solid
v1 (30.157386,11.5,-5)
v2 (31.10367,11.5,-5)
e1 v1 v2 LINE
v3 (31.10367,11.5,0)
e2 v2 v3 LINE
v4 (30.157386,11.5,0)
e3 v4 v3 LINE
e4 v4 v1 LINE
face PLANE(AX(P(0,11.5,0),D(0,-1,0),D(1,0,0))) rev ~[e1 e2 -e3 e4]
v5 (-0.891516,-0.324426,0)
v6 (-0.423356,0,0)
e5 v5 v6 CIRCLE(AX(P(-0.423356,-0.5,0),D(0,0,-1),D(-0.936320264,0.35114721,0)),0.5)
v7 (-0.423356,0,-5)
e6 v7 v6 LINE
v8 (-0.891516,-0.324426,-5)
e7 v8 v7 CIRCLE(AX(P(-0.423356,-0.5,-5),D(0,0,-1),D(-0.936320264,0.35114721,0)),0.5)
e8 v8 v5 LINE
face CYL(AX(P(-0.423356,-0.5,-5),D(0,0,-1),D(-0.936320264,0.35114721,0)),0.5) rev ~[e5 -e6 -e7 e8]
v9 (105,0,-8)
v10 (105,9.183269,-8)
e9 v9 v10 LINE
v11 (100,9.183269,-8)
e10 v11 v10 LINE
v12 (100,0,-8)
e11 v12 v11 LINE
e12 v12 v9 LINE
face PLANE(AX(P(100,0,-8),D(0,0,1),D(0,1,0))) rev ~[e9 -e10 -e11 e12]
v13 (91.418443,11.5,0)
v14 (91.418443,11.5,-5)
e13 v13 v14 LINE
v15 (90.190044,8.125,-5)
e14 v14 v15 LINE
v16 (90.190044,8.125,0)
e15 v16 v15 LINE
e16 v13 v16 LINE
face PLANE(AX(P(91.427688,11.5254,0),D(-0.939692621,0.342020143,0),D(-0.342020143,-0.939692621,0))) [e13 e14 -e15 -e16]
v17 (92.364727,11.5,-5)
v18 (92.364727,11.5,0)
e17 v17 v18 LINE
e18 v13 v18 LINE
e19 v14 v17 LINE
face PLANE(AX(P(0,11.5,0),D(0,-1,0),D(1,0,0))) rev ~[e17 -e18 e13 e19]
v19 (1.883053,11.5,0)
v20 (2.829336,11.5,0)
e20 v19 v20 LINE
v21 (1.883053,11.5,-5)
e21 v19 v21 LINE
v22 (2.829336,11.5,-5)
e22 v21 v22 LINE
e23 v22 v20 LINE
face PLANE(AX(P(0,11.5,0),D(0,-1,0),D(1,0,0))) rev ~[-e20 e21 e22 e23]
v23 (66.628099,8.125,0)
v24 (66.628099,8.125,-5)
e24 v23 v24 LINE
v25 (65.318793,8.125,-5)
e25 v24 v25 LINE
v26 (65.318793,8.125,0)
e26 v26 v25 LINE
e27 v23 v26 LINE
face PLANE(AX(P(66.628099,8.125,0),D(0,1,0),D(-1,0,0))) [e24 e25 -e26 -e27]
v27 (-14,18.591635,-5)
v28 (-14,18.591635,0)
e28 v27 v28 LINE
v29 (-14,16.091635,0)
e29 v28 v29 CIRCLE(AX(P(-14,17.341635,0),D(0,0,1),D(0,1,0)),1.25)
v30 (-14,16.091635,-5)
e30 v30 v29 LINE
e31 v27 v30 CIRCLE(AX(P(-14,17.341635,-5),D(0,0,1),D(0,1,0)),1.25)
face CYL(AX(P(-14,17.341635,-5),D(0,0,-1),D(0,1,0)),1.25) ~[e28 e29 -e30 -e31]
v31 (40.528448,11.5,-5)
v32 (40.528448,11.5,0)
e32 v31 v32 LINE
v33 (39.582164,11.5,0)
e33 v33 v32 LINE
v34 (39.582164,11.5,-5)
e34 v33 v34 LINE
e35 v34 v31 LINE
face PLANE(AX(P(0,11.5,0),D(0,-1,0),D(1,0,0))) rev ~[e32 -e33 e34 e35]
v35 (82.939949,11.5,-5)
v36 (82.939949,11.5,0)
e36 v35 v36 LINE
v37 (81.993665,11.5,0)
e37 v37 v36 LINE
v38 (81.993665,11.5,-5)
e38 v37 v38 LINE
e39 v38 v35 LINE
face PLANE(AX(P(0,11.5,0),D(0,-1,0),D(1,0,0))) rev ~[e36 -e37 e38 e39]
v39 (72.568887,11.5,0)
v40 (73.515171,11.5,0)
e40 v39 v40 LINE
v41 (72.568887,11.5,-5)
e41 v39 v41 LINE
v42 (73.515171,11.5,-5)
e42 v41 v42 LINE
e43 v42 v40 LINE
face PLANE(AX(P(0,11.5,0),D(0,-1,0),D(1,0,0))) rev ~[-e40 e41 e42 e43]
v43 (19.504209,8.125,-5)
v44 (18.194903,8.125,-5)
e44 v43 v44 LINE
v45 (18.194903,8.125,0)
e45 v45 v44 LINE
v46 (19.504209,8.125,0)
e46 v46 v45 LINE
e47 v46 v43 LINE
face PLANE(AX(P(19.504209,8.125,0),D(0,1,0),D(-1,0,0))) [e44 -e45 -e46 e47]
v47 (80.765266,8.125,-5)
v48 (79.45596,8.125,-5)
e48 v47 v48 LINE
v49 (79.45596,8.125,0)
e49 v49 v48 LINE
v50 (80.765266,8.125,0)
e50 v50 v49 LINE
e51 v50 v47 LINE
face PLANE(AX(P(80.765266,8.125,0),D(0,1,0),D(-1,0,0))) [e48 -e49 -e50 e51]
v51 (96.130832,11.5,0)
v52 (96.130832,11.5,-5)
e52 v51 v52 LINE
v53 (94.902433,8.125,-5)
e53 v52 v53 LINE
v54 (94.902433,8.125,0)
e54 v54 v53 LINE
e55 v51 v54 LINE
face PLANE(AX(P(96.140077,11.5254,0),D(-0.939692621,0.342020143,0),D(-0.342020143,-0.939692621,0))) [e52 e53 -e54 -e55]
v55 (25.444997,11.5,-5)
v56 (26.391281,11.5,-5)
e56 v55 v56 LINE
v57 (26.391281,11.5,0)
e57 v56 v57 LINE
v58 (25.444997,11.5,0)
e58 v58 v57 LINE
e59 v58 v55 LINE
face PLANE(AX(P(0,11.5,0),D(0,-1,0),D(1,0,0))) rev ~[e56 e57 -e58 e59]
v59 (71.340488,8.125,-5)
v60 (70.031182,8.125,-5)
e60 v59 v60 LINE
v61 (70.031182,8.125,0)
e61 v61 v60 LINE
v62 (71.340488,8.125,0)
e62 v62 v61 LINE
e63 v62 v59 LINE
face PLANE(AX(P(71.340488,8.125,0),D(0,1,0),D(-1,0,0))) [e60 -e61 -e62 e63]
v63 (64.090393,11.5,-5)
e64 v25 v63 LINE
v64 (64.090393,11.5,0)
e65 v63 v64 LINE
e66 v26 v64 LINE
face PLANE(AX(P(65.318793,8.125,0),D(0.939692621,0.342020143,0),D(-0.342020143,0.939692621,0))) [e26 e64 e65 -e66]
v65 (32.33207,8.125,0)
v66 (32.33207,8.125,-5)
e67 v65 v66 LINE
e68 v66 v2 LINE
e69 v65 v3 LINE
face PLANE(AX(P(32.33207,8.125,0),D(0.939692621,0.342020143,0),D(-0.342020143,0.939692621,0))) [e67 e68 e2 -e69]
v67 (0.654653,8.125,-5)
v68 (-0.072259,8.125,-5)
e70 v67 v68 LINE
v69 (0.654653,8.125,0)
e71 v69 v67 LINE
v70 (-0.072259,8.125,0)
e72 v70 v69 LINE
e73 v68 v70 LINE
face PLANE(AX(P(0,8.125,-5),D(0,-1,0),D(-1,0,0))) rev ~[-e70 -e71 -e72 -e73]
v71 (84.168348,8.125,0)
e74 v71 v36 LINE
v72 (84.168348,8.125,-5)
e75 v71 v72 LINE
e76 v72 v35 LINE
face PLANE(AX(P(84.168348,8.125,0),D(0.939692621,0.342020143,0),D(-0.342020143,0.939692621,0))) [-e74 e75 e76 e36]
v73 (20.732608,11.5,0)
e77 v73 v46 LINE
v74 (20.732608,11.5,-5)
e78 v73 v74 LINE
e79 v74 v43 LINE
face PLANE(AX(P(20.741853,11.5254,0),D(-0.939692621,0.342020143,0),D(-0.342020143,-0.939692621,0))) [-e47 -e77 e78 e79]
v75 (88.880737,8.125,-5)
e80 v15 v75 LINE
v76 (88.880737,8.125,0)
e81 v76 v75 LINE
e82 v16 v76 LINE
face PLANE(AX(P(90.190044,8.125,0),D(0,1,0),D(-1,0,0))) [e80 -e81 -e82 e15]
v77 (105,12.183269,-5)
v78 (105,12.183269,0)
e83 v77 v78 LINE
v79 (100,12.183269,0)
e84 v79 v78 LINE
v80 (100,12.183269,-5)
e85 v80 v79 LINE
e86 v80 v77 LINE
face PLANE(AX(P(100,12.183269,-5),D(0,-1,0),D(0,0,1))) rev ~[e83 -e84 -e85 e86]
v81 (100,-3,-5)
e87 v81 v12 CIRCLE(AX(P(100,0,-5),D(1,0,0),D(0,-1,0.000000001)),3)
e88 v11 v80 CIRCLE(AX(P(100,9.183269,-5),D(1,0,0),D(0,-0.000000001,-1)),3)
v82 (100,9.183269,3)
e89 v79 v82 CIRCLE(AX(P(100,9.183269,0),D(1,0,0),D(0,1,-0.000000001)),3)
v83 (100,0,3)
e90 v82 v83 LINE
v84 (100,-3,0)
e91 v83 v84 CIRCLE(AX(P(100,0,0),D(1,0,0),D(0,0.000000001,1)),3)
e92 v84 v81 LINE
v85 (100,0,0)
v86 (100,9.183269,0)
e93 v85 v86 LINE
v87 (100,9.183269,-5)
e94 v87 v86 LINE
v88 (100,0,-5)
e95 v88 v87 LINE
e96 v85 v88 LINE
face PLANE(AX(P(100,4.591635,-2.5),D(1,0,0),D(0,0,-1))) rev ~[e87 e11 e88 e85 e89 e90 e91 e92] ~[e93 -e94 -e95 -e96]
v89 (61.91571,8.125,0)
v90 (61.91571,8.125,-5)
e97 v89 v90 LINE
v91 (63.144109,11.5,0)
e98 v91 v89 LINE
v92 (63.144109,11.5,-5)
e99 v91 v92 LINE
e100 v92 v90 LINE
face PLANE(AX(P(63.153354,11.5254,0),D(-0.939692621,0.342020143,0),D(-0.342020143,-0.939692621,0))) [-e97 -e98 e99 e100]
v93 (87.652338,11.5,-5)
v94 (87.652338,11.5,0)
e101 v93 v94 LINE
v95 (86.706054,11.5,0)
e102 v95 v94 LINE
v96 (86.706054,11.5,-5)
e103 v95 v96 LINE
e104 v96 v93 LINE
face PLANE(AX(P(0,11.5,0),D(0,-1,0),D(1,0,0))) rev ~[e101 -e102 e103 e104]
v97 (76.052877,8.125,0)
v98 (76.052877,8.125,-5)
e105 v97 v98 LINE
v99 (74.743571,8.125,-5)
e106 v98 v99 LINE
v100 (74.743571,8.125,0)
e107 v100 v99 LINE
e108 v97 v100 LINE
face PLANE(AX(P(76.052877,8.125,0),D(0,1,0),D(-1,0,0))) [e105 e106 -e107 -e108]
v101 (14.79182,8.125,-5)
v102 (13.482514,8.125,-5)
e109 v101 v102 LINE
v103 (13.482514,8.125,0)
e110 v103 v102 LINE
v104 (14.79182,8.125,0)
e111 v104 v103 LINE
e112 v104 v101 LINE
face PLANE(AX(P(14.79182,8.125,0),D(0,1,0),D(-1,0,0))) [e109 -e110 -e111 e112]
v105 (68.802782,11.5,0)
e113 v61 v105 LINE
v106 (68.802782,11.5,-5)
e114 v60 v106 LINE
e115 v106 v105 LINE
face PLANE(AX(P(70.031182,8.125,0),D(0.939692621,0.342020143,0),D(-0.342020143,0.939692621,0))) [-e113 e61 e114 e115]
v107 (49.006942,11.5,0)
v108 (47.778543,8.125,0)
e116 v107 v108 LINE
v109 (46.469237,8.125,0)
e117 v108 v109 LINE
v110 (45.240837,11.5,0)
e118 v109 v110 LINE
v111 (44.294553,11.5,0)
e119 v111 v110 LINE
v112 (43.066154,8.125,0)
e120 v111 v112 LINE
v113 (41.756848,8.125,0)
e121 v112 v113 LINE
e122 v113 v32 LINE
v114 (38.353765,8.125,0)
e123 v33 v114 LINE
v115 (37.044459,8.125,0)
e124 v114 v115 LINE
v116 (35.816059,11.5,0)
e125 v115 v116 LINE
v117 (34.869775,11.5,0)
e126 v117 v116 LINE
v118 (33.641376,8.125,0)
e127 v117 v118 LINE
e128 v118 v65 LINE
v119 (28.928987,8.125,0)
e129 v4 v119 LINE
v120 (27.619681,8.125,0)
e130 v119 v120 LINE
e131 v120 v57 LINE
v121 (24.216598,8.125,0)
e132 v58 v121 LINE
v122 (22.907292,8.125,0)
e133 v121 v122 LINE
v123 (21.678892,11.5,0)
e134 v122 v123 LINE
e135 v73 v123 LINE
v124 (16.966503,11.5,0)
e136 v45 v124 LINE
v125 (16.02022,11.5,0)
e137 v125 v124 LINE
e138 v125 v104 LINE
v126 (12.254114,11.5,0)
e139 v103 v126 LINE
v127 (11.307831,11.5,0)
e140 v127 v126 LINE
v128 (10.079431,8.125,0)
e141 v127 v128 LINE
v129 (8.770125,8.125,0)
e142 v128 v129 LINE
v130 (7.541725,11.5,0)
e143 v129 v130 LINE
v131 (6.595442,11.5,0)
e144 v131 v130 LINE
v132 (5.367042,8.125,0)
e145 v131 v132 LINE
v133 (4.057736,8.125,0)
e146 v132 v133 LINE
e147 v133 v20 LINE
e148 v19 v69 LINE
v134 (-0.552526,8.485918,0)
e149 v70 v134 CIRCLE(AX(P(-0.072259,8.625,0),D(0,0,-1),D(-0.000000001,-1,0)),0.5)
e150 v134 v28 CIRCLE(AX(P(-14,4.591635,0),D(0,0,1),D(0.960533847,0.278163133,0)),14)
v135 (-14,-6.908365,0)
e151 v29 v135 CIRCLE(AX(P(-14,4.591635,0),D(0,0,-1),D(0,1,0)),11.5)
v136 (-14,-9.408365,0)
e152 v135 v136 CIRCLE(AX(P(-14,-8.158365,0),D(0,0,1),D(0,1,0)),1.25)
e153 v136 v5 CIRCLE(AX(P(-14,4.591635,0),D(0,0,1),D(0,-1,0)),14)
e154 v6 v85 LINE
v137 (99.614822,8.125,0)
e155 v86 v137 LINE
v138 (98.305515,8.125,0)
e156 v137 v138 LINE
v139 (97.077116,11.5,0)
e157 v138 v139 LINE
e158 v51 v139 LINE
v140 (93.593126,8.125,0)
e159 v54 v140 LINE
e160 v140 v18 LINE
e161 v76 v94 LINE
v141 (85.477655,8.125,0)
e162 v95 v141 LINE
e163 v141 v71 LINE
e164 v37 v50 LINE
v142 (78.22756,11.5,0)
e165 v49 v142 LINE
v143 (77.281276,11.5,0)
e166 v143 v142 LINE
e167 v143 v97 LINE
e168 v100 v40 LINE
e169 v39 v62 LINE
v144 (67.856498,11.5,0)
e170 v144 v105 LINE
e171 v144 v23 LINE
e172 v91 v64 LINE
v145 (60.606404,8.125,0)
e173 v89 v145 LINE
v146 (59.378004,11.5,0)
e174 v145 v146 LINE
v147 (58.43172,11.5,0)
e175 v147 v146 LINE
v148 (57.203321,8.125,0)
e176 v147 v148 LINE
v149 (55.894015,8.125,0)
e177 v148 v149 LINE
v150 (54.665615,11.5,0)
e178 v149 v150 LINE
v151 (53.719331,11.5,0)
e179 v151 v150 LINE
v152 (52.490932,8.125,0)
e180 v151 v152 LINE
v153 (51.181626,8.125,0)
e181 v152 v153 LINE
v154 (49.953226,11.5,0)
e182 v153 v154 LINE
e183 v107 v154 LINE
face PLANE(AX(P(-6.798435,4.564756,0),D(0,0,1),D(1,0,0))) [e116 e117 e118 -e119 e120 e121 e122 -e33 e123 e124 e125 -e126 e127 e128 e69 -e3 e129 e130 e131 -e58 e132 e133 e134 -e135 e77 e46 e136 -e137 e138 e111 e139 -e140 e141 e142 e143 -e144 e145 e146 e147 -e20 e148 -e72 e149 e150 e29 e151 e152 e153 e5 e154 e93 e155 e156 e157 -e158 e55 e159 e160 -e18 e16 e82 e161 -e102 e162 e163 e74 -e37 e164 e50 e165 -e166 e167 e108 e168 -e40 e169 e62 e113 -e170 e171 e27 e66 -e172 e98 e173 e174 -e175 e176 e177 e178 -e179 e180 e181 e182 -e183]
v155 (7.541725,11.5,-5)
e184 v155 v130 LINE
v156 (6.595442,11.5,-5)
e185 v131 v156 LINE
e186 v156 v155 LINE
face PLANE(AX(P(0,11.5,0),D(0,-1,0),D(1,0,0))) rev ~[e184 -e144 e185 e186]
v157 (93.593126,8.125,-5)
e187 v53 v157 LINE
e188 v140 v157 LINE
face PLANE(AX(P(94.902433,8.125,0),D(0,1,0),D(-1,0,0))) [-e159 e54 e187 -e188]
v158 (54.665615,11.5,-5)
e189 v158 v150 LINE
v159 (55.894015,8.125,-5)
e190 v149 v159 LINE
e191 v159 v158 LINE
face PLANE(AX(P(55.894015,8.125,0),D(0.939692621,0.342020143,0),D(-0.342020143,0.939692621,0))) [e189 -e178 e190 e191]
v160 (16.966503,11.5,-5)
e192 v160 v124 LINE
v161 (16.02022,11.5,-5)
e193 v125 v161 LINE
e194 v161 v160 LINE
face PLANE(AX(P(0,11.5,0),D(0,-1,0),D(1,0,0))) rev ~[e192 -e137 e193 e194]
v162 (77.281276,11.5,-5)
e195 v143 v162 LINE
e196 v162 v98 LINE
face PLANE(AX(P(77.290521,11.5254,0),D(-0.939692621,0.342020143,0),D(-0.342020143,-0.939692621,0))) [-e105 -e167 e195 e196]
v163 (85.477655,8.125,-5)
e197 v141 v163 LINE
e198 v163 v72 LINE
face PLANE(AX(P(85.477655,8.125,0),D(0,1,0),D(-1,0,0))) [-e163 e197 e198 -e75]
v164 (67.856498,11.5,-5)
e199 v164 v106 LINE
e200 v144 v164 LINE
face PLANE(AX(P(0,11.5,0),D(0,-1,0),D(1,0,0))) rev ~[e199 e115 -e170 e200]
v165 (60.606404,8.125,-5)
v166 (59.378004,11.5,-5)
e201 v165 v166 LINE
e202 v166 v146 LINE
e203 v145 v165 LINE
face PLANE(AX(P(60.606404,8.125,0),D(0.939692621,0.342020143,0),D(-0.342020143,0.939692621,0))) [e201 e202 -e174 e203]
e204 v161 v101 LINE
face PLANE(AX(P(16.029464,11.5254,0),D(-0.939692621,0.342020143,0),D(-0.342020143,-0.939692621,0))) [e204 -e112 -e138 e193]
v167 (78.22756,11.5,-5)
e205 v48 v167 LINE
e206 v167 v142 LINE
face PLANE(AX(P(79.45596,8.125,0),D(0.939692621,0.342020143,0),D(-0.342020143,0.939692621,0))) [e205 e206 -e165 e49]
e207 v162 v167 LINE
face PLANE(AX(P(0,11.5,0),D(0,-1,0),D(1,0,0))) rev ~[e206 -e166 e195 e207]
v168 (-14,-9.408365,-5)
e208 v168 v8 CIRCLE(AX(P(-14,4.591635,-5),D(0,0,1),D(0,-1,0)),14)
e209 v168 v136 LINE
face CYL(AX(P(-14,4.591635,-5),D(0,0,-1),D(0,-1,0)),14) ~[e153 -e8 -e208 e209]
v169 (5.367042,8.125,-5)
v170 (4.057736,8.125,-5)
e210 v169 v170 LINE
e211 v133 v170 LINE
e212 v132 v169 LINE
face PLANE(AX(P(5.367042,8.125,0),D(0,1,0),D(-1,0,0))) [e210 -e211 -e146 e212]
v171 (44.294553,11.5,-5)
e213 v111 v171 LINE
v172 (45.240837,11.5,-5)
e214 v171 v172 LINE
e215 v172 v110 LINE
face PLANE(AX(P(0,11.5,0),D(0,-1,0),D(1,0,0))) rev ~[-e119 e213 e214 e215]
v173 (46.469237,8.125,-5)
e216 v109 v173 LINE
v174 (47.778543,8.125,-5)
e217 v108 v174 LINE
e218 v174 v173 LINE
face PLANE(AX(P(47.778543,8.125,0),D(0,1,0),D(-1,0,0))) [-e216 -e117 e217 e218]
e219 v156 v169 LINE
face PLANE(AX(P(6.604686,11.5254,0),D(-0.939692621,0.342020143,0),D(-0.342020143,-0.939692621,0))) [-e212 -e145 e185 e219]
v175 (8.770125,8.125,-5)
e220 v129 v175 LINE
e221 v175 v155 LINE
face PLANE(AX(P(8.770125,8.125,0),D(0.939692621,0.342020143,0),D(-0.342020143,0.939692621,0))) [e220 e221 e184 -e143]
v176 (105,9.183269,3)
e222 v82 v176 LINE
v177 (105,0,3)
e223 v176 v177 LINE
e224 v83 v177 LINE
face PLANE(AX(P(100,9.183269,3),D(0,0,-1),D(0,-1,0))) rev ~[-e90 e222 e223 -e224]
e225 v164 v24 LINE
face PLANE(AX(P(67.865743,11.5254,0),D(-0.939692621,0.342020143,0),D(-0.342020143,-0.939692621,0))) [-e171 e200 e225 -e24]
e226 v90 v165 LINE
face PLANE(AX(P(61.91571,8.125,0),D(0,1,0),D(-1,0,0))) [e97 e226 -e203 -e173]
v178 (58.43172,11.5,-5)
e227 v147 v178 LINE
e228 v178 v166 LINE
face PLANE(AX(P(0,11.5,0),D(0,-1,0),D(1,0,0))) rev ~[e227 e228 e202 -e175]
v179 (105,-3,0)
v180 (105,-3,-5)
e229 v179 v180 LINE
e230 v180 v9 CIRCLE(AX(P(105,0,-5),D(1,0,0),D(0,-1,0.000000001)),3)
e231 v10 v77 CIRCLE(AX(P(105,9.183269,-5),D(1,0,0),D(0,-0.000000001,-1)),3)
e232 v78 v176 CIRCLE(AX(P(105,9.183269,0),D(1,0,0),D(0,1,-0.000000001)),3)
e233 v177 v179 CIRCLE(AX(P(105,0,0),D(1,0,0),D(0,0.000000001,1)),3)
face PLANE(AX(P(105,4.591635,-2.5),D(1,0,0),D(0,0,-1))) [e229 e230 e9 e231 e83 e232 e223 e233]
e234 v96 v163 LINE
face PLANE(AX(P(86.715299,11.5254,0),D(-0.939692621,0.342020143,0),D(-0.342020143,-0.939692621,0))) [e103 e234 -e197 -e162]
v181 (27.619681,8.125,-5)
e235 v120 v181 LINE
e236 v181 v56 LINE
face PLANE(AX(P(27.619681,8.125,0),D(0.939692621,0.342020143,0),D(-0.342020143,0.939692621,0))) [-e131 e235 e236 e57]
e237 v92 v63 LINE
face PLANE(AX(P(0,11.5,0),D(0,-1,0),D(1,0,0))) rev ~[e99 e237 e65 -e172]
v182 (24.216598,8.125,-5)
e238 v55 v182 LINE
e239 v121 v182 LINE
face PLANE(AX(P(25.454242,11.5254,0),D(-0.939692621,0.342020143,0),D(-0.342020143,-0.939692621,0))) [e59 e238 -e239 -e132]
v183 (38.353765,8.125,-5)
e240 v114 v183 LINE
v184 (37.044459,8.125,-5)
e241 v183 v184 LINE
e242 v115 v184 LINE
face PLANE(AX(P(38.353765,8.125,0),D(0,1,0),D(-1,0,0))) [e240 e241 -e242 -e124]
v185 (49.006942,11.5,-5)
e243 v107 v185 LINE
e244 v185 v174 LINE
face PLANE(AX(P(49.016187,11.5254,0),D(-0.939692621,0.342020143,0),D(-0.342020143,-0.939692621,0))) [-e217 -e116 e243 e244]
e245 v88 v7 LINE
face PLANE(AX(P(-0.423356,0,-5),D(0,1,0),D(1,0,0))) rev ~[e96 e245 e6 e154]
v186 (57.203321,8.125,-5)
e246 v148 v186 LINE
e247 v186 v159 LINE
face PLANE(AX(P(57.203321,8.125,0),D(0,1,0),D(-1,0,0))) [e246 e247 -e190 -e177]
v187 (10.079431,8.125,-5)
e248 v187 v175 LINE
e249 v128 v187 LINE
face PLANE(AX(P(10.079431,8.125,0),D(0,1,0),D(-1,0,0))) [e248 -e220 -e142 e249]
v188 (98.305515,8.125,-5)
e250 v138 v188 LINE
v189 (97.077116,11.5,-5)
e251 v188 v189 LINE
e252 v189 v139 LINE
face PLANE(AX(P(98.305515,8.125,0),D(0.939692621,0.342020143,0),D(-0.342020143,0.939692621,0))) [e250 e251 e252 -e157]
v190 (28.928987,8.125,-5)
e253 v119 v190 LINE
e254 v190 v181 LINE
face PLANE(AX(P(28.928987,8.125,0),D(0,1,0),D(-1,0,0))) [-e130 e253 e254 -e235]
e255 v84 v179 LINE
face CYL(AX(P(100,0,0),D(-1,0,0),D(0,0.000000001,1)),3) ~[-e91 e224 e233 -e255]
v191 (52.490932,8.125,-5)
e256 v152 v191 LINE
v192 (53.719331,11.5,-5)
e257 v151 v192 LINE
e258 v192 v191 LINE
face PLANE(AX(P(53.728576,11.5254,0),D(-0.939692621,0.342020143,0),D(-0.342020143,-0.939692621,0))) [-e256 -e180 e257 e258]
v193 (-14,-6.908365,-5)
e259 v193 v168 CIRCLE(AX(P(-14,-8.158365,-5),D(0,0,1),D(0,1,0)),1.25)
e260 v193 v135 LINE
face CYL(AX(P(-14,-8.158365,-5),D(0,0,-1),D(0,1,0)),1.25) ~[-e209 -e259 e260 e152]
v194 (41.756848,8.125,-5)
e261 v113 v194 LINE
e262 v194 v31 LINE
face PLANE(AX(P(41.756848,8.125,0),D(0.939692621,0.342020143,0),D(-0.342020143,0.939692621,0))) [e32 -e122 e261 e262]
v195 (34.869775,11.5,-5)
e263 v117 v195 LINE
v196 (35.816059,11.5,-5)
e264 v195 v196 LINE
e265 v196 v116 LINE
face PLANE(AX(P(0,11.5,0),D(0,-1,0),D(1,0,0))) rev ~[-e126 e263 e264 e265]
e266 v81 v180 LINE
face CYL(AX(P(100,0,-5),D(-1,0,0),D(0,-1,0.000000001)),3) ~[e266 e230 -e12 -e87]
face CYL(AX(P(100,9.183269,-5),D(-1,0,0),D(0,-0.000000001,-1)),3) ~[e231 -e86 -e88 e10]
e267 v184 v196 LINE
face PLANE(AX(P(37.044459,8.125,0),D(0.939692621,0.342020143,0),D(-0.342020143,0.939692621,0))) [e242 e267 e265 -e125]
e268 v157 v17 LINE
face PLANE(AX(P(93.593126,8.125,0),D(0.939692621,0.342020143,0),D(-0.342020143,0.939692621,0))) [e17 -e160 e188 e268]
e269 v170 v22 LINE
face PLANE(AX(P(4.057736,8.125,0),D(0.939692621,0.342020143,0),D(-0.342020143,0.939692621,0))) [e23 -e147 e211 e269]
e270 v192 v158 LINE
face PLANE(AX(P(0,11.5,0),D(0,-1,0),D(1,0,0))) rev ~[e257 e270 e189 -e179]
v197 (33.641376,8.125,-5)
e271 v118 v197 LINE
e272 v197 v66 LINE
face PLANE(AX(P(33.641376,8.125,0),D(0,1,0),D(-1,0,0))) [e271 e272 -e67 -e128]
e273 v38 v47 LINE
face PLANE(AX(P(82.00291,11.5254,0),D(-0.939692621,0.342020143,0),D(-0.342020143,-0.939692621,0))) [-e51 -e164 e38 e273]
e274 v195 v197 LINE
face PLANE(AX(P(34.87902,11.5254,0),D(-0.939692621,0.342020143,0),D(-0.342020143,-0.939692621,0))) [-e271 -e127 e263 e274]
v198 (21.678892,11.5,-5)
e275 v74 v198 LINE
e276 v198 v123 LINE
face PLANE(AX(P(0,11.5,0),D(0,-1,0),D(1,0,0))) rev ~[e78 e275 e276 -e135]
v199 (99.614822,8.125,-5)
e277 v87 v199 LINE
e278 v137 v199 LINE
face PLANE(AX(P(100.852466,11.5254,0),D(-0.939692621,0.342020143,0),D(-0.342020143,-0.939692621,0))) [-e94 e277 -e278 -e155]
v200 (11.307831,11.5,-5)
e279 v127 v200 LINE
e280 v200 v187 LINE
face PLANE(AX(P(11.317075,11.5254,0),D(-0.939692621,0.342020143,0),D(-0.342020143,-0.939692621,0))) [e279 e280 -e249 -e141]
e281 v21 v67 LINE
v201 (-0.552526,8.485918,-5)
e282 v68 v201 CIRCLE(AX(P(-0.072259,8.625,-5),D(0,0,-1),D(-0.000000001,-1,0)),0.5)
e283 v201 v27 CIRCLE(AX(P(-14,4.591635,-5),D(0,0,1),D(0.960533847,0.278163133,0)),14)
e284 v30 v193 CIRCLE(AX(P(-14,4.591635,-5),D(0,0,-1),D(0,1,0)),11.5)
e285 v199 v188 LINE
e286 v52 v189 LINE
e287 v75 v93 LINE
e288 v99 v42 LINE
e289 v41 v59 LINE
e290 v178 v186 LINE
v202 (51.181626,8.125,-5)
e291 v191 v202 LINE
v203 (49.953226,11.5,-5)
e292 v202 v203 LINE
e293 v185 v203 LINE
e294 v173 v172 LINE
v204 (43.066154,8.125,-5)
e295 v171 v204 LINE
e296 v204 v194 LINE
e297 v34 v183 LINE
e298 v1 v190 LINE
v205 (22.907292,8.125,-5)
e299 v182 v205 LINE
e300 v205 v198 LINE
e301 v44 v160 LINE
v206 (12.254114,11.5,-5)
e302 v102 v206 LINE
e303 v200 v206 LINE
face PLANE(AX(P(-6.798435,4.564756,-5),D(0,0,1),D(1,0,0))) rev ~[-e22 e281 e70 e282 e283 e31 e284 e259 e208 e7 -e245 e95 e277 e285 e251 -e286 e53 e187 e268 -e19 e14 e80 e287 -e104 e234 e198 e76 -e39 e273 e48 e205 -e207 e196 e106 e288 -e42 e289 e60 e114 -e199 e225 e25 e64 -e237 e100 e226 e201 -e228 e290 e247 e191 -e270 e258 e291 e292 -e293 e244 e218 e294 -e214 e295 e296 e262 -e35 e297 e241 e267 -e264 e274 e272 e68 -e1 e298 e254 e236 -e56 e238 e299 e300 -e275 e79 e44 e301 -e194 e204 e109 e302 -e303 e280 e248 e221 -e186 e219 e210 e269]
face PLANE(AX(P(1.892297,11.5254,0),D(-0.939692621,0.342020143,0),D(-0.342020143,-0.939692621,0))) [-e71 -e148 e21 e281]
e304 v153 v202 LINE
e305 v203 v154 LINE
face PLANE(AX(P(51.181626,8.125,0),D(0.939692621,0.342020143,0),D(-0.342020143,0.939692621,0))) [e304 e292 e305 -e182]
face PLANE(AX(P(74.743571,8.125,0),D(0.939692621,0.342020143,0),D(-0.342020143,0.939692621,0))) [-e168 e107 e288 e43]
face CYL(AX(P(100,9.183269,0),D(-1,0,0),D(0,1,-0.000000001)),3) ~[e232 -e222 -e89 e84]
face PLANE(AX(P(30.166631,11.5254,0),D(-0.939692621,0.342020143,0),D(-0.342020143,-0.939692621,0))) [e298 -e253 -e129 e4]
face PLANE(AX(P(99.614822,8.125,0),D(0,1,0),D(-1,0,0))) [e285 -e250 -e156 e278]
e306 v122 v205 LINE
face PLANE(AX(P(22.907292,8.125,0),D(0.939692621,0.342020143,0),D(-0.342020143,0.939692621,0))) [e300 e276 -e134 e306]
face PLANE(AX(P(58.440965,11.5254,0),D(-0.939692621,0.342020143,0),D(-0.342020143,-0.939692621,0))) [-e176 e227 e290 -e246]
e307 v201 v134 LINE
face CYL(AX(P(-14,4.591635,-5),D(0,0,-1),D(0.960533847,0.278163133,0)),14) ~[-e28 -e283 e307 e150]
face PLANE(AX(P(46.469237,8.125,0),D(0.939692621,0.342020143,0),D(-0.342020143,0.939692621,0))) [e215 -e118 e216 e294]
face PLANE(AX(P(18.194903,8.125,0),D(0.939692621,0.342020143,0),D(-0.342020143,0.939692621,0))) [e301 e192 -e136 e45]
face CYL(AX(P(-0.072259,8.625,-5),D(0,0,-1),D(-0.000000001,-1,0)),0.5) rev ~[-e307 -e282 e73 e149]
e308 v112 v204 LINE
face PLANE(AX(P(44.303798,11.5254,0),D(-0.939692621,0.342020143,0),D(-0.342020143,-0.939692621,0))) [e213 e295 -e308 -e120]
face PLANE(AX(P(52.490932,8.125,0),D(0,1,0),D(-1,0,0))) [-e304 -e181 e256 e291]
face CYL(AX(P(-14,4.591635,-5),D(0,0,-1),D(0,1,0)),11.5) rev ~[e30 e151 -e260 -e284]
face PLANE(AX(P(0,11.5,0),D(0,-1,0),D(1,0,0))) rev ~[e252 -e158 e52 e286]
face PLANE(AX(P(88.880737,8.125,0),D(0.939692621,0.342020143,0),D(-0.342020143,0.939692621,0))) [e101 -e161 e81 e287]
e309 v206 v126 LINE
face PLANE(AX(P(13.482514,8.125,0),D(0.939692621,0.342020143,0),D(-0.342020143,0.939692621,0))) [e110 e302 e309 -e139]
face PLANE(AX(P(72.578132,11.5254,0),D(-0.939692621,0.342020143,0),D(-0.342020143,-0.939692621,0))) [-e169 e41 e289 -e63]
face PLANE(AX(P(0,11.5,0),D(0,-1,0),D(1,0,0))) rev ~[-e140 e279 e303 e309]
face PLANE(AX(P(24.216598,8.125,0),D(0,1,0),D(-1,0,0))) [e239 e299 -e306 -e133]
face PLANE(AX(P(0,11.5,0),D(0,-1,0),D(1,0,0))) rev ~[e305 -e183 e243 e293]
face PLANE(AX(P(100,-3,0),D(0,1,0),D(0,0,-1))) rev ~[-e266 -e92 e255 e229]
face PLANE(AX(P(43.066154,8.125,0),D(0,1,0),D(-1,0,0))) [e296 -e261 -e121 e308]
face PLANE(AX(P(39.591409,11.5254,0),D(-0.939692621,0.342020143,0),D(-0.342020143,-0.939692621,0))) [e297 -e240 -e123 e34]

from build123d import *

# Parameters (mm, degrees)
BLANKSKE_W         = 100
BLANKSKE_H         = 11.5
BLANK_DEPTH        = 5
TOOTHCUTSIM_DEPTH  = 101.783183121
TEETHCUTS_COUNT    = 22
TEETHCUTS_PITCH    = 4.712388975
BOSS_EXTRU_1_DEPTH = 5
BOSS_EXTRU_2_DEPTH = 5


with BuildPart() as part:
    # BlankSke → Blank (new body)
    with BuildSketch(Plane.XY):
        with Locations((50, 5.75)):
            Rectangle(BLANKSKE_W, BLANKSKE_H)
    extrude(amount=-BLANK_DEPTH)

    # TooCutSkeSim → ToothCutSim (cut, through all)
    with BuildSketch(Plane.XY):
        Polygon((0.654653055, 8.125), (-0.654653055, 8.125), (-1.892297439, 11.5254), (1.892297439, 11.5254), align=None)
    toothcutsim = extrude(amount=-TOOTHCUTSIM_DEPTH, mode=Mode.SUBTRACT)

    # TeethCuts: ToothCutSim ×22
    with Locations(*[(i * TEETHCUTS_PITCH, 0, 0) for i in range(1, TEETHCUTS_COUNT)]):
        add(toothcutsim, mode=Mode.SUBTRACT)

    # Esquisse1 → Boss.-Extru.1 (add)
    with BuildSketch(Plane(origin=(100, 0, 0), x_dir=(0, 0, -1), z_dir=(1, 0, 0))):
        with BuildLine():
            Line((5, 12.18326915), (0, 12.18326915))
            ThreePointArc((0, 12.18326915), (-2.121320344, 11.304589494), (-3, 9.18326915))
            Line((-3, 9.18326915), (-3, 0))
            ThreePointArc((-3, 0), (-2.121320344, -2.121320344), (0, -3))
            Line((0, -3), (5, -3))
            ThreePointArc((5, -3), (7.121320344, -2.121320344), (8, 0))
            Line((8, 0), (8, 9.18326915))
            ThreePointArc((8, 9.18326915), (7.121320344, 11.304589494), (5, 12.18326915))
        make_face()
    extrude(amount=BOSS_EXTRU_1_DEPTH)

    # Esquisse2 → Boss.-Extru.2 (add)
    with BuildSketch(Plane(origin=(0, 0, -5), x_dir=(-1, 0, 0), z_dir=(0, 0, -1))):
        with BuildLine():
            Line((0, 8.125), (0.072259216, 8.125))
            ThreePointArc((0.072259216, 8.125), (0.372641653, 8.225287114), (0.552526139, 8.485918434))
            ThreePointArc((0.552526139, 8.485918434), (5.589291766, 15.783595396), (14, 18.591634575))
            ThreePointArc((14, 18.591634575), (15.25, 17.341634575), (14, 16.091634575))
            ThreePointArc((14, 16.091634575), (2.5, 4.591634575), (14, -6.908365425))
            ThreePointArc((14, -6.908365425), (15.25, -8.158365425), (14, -9.408365425))
            ThreePointArc((14, -9.408365425), (6.025818336, -6.915425292), (0.891516314, -0.324426394))
            ThreePointArc((0.891516314, -0.324426394), (0.708148385, -0.089033576), (0.423356182, 0))
            Line((0.423356182, 0), (0, 0))
            Line((0, 0), (0, 8.125))
        make_face()
    extrude(amount=-BOSS_EXTRU_2_DEPTH)


solid = part.part
